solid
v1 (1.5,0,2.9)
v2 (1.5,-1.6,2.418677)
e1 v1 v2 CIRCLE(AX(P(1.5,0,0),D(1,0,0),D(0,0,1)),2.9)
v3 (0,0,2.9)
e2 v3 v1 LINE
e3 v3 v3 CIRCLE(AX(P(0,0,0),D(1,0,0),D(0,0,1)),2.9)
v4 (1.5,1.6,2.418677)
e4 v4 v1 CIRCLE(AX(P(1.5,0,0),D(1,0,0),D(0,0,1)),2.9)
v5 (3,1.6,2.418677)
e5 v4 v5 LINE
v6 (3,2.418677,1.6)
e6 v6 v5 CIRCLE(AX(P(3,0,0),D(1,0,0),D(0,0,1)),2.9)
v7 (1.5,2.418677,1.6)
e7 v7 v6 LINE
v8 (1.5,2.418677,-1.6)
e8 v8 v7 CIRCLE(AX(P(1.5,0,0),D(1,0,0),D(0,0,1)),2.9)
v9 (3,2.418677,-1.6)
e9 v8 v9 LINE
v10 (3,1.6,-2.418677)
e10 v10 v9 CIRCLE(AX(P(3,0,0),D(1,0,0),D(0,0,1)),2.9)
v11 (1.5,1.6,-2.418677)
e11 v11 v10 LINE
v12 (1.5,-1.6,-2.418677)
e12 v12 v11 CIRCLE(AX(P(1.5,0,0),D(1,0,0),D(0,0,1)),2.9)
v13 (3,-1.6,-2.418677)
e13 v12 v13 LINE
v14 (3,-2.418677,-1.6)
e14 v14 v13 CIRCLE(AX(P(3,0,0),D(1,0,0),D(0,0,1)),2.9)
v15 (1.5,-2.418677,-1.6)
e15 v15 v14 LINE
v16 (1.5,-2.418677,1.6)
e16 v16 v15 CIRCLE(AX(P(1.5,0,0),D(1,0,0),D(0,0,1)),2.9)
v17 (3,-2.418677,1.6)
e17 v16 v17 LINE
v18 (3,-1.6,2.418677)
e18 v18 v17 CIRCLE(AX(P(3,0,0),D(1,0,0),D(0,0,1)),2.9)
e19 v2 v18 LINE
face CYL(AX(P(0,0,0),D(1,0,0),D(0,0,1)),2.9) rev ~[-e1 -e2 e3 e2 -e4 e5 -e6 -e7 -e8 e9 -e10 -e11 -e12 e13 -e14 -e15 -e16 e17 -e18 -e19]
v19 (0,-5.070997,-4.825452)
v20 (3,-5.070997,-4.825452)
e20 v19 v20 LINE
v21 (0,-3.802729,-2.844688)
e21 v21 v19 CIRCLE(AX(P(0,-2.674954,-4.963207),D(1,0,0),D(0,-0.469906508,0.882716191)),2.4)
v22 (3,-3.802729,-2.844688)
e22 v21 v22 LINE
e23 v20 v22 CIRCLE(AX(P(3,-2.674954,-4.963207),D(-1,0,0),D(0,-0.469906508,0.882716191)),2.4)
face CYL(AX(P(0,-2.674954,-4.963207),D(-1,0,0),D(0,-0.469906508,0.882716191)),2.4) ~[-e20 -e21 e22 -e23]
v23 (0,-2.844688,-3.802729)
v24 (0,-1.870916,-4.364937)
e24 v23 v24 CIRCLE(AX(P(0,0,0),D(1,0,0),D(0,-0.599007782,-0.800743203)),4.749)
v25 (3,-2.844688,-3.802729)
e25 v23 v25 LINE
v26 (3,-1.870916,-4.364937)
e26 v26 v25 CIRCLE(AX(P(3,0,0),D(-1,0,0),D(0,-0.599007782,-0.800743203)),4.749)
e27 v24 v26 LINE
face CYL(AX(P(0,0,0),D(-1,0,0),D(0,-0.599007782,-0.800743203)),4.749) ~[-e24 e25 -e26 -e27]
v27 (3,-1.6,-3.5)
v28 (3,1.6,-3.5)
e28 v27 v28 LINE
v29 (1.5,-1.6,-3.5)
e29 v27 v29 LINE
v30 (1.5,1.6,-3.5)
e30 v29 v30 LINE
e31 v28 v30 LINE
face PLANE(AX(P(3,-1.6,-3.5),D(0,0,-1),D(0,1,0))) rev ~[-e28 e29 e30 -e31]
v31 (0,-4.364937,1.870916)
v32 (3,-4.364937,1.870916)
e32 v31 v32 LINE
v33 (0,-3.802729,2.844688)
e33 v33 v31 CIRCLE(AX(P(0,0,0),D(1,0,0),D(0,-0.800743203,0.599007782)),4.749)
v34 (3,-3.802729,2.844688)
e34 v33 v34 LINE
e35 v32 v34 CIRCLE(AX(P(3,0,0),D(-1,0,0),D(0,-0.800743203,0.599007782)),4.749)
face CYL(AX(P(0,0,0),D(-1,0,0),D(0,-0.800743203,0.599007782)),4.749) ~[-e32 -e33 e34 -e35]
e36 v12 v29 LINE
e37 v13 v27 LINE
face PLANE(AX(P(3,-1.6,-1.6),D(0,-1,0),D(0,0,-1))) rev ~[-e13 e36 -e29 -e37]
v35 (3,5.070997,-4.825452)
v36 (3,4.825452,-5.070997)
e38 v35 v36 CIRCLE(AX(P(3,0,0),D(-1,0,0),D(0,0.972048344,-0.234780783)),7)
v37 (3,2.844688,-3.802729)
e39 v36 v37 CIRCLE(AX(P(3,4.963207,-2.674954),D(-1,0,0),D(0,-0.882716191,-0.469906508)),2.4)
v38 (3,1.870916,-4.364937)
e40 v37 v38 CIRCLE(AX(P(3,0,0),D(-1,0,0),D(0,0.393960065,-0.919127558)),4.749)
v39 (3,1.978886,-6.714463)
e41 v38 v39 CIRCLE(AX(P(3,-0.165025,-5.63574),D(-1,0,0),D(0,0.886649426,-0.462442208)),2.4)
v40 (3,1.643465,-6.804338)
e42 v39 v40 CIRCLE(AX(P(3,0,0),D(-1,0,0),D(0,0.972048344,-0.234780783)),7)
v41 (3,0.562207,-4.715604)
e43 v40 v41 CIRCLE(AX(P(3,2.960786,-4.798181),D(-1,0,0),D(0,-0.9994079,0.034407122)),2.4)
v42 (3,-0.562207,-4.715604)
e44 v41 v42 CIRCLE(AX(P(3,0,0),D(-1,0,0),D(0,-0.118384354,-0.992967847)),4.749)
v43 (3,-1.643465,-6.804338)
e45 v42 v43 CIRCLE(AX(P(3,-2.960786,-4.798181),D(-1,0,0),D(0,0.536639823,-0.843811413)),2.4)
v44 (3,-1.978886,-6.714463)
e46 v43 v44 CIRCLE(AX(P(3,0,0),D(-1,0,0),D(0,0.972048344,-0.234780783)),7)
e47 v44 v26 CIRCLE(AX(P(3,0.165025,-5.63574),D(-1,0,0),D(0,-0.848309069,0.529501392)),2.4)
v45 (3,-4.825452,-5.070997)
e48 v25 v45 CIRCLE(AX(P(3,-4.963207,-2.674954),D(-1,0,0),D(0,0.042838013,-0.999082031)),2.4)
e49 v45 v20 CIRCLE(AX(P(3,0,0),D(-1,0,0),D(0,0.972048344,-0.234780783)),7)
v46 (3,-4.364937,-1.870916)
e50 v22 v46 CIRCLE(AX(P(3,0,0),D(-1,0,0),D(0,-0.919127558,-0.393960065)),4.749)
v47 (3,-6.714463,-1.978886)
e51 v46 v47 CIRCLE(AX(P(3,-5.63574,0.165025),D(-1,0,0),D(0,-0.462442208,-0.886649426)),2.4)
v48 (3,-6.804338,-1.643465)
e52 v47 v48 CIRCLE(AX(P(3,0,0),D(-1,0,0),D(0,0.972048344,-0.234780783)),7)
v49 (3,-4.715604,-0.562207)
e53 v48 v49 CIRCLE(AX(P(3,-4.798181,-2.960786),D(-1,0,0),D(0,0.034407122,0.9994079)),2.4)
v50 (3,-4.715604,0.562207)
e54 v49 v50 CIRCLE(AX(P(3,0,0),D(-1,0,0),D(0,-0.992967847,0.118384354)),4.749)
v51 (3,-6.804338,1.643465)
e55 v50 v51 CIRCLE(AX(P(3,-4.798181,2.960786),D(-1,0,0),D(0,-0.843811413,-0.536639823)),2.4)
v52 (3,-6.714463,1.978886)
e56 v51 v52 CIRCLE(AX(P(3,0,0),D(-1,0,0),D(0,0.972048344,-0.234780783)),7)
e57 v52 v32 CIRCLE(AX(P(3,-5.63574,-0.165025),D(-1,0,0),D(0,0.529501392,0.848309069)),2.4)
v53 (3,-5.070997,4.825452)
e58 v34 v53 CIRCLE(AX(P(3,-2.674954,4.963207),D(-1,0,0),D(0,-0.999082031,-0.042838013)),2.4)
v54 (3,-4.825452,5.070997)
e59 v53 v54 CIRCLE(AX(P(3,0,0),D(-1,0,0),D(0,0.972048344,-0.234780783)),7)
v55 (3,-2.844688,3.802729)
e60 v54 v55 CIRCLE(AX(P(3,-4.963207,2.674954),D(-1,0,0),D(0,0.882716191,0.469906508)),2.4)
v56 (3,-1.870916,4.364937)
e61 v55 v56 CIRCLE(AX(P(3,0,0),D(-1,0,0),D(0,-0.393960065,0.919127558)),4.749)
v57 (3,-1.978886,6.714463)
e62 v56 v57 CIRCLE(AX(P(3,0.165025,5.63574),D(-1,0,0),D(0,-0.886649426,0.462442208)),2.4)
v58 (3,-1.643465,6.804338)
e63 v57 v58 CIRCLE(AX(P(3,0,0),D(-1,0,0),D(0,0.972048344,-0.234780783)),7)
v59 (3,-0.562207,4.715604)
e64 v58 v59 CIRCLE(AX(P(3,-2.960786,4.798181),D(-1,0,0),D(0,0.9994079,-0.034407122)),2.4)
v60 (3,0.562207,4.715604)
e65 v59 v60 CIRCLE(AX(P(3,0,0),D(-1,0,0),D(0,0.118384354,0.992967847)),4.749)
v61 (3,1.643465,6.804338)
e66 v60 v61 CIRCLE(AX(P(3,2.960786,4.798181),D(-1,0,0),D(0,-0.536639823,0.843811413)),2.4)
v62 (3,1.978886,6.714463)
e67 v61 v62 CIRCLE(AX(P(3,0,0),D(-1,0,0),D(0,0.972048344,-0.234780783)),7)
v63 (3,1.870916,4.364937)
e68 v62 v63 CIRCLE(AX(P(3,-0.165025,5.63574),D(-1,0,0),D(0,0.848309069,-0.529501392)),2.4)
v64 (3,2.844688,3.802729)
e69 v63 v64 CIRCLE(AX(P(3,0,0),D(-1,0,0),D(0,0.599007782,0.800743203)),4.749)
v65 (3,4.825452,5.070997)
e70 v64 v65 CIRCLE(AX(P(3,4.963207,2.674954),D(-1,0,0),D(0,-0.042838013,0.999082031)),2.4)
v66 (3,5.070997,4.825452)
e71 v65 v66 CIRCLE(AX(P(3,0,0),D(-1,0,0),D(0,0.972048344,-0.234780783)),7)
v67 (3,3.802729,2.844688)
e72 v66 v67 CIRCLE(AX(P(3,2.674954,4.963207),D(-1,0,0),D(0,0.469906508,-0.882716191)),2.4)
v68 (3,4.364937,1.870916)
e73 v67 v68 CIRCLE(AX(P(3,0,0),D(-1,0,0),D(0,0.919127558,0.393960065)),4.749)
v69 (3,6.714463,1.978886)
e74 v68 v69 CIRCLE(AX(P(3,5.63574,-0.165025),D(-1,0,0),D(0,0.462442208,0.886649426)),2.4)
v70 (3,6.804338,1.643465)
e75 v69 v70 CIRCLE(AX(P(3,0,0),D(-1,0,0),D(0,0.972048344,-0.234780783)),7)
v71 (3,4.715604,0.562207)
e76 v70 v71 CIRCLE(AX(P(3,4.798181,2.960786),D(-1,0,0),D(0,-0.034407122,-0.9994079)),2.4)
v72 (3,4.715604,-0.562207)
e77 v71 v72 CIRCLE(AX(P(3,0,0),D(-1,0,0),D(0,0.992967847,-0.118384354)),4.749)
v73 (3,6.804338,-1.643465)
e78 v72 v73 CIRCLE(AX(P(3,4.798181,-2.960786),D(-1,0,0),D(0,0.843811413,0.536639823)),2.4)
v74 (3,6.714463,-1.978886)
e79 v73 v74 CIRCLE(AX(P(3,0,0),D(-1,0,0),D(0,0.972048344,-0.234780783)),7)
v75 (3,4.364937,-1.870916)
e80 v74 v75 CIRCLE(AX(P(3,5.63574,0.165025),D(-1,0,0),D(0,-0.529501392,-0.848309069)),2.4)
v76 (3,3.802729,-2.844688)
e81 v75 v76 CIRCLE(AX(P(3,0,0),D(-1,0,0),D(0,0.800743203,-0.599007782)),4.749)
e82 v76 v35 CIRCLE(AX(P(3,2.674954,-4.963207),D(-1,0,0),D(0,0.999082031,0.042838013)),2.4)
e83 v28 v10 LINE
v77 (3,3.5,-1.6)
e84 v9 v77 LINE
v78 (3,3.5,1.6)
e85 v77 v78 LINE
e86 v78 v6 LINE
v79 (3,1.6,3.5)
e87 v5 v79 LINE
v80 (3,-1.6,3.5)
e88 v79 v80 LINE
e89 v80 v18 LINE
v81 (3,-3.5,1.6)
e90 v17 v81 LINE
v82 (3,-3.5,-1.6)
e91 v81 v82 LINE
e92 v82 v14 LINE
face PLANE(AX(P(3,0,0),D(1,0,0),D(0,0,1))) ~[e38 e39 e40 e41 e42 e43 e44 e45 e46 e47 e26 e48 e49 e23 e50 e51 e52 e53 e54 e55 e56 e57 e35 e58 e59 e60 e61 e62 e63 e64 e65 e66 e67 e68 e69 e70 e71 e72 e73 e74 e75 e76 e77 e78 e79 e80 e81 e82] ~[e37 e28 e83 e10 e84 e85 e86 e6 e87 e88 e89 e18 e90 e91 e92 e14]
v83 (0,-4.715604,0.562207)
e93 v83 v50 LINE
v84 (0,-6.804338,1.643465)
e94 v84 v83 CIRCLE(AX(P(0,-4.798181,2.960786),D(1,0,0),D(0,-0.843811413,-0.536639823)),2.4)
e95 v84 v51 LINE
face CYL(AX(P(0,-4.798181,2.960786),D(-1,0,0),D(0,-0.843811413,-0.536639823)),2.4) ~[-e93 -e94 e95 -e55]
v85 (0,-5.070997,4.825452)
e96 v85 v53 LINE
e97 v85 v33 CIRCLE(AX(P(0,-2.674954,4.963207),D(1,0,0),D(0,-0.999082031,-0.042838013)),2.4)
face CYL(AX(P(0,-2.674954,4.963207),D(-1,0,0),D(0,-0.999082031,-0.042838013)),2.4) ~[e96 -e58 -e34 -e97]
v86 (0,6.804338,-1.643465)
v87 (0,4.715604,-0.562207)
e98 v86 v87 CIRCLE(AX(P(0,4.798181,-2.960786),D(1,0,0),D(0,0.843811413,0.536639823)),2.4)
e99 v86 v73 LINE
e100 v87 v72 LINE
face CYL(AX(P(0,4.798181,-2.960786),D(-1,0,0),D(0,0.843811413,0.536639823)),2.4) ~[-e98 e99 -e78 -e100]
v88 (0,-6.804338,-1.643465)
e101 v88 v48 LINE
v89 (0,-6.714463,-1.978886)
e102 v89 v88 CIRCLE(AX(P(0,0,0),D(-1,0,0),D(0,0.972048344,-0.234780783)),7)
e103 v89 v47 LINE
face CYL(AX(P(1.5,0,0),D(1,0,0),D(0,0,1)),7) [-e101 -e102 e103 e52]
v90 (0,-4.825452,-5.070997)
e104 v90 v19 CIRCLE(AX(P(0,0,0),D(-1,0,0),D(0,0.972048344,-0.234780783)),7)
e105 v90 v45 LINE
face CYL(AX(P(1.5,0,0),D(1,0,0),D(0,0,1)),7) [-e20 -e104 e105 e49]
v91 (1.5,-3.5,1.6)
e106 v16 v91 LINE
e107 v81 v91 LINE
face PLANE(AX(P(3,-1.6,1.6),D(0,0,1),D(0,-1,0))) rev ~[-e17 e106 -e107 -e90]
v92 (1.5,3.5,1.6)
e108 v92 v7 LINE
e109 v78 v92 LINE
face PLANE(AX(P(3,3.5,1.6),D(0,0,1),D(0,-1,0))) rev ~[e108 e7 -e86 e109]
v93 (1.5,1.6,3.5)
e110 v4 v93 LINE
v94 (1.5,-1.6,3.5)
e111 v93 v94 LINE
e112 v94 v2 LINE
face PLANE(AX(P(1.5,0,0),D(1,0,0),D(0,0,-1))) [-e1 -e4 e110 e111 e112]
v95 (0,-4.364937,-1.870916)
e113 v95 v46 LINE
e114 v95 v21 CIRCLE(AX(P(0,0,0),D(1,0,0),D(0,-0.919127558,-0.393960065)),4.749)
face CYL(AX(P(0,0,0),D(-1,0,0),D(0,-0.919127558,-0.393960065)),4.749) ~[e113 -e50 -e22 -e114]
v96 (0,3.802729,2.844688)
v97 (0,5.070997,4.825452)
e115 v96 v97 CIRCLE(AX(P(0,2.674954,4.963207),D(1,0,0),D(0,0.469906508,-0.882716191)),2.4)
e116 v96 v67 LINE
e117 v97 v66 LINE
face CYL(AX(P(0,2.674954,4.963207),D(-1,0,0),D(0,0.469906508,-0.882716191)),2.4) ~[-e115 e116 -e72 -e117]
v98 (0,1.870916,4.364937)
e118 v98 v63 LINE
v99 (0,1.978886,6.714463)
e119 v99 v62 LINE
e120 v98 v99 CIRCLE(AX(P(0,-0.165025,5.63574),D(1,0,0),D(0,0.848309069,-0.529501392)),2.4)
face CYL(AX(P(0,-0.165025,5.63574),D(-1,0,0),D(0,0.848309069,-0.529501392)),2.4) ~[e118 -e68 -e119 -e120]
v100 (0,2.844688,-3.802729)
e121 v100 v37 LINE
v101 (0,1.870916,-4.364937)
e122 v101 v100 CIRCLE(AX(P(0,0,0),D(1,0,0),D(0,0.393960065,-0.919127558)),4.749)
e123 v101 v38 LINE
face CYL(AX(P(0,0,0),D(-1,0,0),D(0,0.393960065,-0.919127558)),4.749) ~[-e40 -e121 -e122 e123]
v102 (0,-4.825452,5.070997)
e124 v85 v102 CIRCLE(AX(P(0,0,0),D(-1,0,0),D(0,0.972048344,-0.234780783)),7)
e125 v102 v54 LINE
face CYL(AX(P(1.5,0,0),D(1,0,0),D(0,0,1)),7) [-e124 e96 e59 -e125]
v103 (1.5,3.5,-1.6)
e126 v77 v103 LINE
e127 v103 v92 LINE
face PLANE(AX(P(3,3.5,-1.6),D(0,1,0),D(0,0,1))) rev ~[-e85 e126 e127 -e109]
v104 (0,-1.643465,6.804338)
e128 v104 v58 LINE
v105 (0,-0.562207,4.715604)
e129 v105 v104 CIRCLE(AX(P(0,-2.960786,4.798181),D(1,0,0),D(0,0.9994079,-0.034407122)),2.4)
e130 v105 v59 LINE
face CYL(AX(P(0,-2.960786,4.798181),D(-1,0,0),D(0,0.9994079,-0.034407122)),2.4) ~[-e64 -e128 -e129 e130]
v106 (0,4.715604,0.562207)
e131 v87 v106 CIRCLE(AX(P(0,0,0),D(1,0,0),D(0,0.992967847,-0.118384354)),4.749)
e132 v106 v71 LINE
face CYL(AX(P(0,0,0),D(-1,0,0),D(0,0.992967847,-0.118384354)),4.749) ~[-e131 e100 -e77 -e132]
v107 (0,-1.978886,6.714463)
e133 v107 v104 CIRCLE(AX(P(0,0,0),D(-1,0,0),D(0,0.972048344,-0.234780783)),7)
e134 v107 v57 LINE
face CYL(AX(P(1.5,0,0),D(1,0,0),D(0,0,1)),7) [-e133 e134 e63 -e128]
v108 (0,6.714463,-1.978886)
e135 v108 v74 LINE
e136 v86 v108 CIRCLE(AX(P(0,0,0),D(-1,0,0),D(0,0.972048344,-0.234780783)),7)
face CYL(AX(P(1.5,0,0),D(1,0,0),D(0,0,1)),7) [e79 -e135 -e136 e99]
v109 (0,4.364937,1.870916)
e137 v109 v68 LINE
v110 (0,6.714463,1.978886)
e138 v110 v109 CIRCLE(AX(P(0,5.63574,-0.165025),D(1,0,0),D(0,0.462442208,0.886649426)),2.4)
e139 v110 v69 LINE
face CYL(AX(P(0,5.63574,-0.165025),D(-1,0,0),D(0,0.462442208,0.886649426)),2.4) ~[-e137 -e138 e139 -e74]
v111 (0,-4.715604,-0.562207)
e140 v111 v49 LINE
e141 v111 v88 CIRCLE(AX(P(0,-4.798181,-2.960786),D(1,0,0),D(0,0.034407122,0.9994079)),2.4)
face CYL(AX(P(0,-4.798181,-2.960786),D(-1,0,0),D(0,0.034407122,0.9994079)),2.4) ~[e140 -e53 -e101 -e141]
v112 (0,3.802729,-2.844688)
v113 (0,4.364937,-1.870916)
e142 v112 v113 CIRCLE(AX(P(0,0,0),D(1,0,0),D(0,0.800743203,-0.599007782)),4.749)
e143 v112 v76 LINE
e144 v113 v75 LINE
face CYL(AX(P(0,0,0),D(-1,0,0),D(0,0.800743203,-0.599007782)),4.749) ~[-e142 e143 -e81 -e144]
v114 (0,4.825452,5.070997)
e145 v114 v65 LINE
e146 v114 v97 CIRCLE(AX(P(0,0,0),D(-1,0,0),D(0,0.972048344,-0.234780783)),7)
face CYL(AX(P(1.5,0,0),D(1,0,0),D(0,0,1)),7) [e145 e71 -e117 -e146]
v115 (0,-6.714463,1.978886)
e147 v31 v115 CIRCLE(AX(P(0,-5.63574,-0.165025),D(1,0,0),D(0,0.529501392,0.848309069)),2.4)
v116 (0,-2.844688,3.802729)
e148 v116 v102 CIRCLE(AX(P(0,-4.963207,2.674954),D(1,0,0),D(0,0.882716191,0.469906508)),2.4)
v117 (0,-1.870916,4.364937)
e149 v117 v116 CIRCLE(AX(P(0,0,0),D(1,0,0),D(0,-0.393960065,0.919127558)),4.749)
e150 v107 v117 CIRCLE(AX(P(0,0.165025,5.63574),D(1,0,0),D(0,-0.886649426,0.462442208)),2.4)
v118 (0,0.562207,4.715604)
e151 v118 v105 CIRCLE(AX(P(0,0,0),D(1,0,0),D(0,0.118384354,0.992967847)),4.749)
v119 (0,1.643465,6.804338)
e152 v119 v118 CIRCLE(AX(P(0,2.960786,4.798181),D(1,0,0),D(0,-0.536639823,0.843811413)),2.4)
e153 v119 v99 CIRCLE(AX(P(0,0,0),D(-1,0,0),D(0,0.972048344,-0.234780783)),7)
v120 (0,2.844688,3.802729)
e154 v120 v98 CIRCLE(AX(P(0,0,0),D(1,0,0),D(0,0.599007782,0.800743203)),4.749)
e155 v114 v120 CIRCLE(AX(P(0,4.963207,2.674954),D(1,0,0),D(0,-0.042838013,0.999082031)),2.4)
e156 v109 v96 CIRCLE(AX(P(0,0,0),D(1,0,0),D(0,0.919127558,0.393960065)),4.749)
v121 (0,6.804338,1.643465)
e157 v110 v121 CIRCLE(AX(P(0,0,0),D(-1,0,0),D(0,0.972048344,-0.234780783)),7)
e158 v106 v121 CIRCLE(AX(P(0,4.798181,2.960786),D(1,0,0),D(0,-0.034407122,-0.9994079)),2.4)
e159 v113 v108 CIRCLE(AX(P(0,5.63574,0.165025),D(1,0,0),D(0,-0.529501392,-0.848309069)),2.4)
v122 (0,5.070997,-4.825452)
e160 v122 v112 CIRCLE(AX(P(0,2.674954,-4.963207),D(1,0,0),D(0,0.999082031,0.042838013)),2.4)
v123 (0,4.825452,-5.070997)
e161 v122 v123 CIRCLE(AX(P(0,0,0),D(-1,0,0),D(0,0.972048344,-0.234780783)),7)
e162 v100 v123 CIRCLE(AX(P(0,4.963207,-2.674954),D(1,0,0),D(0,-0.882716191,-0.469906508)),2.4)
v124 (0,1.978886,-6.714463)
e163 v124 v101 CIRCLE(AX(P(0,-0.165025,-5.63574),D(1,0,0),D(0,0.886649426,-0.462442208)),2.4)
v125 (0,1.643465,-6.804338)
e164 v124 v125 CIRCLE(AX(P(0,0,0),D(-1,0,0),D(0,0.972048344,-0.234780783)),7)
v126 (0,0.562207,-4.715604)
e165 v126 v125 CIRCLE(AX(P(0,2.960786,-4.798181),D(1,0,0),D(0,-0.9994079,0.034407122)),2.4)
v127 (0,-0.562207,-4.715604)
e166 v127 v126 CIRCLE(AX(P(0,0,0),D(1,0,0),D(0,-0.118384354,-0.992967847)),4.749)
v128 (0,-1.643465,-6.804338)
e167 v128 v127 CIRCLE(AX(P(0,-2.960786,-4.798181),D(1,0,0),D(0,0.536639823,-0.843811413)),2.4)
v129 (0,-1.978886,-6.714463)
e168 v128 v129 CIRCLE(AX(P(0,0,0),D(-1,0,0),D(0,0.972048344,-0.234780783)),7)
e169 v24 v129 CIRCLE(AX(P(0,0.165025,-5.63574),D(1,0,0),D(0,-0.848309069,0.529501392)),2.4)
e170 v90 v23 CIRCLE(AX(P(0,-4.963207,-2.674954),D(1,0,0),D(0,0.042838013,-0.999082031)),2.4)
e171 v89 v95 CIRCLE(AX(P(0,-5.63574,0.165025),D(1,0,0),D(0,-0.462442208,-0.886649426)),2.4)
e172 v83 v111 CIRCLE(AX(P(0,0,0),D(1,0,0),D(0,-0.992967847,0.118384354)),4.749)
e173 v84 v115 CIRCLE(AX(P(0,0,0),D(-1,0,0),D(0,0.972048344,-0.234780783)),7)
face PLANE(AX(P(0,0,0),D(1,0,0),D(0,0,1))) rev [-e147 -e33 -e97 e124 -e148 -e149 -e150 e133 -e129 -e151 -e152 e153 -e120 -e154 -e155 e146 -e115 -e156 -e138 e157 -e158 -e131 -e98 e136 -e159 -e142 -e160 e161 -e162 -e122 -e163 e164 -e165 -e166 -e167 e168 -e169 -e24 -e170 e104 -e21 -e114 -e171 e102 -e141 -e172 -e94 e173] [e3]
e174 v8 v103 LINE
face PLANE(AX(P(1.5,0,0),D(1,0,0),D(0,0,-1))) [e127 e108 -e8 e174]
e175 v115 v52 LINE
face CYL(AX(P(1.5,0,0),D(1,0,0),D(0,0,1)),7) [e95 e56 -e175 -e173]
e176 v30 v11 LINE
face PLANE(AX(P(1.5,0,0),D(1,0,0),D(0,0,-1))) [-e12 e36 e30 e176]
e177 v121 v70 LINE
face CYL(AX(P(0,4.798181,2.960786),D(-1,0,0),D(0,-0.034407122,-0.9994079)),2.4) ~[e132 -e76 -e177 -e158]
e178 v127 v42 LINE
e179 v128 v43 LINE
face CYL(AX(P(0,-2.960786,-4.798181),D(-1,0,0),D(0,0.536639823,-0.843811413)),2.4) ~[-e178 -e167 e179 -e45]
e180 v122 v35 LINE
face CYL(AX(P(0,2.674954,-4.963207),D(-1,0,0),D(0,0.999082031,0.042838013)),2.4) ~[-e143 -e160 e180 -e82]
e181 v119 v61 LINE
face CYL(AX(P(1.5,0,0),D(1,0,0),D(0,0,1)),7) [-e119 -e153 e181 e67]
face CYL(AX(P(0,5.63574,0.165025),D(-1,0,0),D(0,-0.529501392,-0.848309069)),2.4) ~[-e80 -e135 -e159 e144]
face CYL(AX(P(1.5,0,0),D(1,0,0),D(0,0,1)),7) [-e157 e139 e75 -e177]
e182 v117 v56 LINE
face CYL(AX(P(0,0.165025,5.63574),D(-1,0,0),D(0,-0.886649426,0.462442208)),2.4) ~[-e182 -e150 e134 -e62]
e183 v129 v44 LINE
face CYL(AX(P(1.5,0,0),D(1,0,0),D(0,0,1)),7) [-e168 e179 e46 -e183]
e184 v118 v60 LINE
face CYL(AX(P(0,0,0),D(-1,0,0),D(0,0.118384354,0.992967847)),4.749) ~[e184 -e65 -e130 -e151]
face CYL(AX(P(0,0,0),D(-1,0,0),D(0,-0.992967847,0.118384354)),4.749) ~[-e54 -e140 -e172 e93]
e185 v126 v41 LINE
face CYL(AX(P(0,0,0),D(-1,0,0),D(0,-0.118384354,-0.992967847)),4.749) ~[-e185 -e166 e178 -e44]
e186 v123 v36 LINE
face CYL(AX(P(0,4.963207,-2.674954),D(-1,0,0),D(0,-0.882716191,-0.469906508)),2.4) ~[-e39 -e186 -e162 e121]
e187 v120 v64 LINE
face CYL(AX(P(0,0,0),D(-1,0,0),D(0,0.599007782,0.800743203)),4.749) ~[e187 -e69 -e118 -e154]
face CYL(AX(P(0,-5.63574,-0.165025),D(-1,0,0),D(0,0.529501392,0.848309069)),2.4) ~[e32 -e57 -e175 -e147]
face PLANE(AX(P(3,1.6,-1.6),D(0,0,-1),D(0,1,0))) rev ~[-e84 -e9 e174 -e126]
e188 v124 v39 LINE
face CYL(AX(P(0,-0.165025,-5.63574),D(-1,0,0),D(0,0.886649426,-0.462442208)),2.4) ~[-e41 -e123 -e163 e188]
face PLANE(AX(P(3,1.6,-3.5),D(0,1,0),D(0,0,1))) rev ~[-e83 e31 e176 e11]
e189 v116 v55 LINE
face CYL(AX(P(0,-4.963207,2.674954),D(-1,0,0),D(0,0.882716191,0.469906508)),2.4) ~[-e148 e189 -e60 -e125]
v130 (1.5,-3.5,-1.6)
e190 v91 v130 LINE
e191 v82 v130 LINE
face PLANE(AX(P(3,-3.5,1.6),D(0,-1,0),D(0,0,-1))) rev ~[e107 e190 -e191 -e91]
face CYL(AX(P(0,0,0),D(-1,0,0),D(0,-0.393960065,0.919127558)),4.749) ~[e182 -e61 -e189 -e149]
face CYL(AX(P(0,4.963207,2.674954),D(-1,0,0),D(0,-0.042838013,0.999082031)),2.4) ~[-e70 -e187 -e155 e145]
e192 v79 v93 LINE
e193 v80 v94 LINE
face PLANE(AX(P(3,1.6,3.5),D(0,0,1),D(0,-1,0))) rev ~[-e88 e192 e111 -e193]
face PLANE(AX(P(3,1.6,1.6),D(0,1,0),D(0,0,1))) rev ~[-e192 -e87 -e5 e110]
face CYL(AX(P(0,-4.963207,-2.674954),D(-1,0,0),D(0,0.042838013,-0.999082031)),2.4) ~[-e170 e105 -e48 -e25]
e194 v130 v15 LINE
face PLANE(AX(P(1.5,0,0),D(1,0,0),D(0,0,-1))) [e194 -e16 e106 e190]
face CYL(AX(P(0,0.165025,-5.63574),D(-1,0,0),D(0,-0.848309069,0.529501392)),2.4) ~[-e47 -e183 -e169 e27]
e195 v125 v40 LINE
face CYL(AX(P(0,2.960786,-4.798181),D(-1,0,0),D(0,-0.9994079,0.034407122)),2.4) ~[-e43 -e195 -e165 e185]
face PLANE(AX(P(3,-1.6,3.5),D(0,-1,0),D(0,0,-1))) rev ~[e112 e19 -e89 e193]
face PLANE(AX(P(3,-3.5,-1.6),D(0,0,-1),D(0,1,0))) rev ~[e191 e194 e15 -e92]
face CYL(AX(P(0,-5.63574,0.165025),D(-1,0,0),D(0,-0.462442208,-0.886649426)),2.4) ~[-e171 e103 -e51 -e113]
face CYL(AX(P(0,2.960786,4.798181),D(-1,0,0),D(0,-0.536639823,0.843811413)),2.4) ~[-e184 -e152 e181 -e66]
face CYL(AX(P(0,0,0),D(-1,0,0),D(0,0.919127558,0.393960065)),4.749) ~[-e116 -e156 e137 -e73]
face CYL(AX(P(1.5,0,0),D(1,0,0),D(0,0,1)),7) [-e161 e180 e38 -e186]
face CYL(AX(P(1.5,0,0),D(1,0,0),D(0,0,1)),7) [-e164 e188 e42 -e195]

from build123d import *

# Parameters (mm, degrees)
BASPROSKE_W         = 3
BASPROSKE_H         = 7
TOOTHCUT_DEPTH      = 11.344080433
TEETHCUTS_COUNT     = 12
BORSKE_R            = 2.9
BORE_DEPTH          = 50.0000508
CUT_EXTRUDE_1_DEPTH = 1.5


with BuildPart() as part:
    # BasProSke → Base-Revolve (revolve)
    with BuildSketch(Plane(origin=(0, 0, 0), x_dir=(1, 0, 0), z_dir=(0, 1, 0)), mode=Mode.PRIVATE) as base_revolve_sk:
        with Locations((1.5, 3.5)):
            Rectangle(BASPROSKE_W, BASPROSKE_H)
    revolve(base_revolve_sk.sketch.rotate(Axis((-10, 0, 0), (1, 0, 0)), 180), axis=Axis((-10, 0, 0), (1, 0, 0)))

    # TooCutSke → ToothCut (cut, through all)
    with BuildSketch(Plane(origin=(0, 0, 0), x_dir=(0, 0, -1), z_dir=(1, 0, 0))):
        with BuildLine():
            ThreePointArc((0.562207301, 4.715604304), (0, 4.749), (-0.562207301, 4.715604304))
            ThreePointArc((-0.562207301, 4.715604304), (-0.837528627, 5.917009812), (-1.672850686, 6.823328788))
            ThreePointArc((-1.672850686, 6.823328788), (0, 7.0254), (1.672850686, 6.823328788))
            ThreePointArc((1.672850686, 6.823328788), (0.837528627, 5.917009812), (0.562207301, 4.715604304))
        make_face()
    toothcut = extrude(amount=TOOTHCUT_DEPTH, mode=Mode.SUBTRACT)

    # TeethCuts: ToothCut ×12 about axis
    teethcuts_axis = Axis((0, 0, 0), (1, 0, 0))
    for i in range(1, TEETHCUTS_COUNT):
        add(toothcut.rotate(teethcuts_axis, i * 360 / TEETHCUTS_COUNT), mode=Mode.SUBTRACT)

    # BorSke → Bore (cut, symmetric)
    with BuildSketch(Plane(origin=(0, 0, 0), x_dir=(0, 0, -1), z_dir=(1, 0, 0))):
        with Locations(Location((0, 0, 0), (0, 0, 180))):
            Circle(BORSKE_R)
    extrude(amount=BORE_DEPTH, both=True, mode=Mode.SUBTRACT)

    # 草图1 → 切除-拉伸1 (cut)
    with BuildSketch(Plane(origin=(3, 0, 0), x_dir=(0, 0, -1), z_dir=(1, 0, 0))):
        Polygon((-1.6, -1.6), (-1.6, -3.5), (1.6, -3.5), (1.6, -1.6), (3.5, -1.6), (3.5, 1.6), (1.6, 1.6), (1.6, 3.5), (-1.6, 3.5), (-1.6, 1.6), (-3.5, 1.6), (-3.5, -1.6), align=None)
    extrude(amount=-CUT_EXTRUDE_1_DEPTH, mode=Mode.SUBTRACT)


solid = part.part
